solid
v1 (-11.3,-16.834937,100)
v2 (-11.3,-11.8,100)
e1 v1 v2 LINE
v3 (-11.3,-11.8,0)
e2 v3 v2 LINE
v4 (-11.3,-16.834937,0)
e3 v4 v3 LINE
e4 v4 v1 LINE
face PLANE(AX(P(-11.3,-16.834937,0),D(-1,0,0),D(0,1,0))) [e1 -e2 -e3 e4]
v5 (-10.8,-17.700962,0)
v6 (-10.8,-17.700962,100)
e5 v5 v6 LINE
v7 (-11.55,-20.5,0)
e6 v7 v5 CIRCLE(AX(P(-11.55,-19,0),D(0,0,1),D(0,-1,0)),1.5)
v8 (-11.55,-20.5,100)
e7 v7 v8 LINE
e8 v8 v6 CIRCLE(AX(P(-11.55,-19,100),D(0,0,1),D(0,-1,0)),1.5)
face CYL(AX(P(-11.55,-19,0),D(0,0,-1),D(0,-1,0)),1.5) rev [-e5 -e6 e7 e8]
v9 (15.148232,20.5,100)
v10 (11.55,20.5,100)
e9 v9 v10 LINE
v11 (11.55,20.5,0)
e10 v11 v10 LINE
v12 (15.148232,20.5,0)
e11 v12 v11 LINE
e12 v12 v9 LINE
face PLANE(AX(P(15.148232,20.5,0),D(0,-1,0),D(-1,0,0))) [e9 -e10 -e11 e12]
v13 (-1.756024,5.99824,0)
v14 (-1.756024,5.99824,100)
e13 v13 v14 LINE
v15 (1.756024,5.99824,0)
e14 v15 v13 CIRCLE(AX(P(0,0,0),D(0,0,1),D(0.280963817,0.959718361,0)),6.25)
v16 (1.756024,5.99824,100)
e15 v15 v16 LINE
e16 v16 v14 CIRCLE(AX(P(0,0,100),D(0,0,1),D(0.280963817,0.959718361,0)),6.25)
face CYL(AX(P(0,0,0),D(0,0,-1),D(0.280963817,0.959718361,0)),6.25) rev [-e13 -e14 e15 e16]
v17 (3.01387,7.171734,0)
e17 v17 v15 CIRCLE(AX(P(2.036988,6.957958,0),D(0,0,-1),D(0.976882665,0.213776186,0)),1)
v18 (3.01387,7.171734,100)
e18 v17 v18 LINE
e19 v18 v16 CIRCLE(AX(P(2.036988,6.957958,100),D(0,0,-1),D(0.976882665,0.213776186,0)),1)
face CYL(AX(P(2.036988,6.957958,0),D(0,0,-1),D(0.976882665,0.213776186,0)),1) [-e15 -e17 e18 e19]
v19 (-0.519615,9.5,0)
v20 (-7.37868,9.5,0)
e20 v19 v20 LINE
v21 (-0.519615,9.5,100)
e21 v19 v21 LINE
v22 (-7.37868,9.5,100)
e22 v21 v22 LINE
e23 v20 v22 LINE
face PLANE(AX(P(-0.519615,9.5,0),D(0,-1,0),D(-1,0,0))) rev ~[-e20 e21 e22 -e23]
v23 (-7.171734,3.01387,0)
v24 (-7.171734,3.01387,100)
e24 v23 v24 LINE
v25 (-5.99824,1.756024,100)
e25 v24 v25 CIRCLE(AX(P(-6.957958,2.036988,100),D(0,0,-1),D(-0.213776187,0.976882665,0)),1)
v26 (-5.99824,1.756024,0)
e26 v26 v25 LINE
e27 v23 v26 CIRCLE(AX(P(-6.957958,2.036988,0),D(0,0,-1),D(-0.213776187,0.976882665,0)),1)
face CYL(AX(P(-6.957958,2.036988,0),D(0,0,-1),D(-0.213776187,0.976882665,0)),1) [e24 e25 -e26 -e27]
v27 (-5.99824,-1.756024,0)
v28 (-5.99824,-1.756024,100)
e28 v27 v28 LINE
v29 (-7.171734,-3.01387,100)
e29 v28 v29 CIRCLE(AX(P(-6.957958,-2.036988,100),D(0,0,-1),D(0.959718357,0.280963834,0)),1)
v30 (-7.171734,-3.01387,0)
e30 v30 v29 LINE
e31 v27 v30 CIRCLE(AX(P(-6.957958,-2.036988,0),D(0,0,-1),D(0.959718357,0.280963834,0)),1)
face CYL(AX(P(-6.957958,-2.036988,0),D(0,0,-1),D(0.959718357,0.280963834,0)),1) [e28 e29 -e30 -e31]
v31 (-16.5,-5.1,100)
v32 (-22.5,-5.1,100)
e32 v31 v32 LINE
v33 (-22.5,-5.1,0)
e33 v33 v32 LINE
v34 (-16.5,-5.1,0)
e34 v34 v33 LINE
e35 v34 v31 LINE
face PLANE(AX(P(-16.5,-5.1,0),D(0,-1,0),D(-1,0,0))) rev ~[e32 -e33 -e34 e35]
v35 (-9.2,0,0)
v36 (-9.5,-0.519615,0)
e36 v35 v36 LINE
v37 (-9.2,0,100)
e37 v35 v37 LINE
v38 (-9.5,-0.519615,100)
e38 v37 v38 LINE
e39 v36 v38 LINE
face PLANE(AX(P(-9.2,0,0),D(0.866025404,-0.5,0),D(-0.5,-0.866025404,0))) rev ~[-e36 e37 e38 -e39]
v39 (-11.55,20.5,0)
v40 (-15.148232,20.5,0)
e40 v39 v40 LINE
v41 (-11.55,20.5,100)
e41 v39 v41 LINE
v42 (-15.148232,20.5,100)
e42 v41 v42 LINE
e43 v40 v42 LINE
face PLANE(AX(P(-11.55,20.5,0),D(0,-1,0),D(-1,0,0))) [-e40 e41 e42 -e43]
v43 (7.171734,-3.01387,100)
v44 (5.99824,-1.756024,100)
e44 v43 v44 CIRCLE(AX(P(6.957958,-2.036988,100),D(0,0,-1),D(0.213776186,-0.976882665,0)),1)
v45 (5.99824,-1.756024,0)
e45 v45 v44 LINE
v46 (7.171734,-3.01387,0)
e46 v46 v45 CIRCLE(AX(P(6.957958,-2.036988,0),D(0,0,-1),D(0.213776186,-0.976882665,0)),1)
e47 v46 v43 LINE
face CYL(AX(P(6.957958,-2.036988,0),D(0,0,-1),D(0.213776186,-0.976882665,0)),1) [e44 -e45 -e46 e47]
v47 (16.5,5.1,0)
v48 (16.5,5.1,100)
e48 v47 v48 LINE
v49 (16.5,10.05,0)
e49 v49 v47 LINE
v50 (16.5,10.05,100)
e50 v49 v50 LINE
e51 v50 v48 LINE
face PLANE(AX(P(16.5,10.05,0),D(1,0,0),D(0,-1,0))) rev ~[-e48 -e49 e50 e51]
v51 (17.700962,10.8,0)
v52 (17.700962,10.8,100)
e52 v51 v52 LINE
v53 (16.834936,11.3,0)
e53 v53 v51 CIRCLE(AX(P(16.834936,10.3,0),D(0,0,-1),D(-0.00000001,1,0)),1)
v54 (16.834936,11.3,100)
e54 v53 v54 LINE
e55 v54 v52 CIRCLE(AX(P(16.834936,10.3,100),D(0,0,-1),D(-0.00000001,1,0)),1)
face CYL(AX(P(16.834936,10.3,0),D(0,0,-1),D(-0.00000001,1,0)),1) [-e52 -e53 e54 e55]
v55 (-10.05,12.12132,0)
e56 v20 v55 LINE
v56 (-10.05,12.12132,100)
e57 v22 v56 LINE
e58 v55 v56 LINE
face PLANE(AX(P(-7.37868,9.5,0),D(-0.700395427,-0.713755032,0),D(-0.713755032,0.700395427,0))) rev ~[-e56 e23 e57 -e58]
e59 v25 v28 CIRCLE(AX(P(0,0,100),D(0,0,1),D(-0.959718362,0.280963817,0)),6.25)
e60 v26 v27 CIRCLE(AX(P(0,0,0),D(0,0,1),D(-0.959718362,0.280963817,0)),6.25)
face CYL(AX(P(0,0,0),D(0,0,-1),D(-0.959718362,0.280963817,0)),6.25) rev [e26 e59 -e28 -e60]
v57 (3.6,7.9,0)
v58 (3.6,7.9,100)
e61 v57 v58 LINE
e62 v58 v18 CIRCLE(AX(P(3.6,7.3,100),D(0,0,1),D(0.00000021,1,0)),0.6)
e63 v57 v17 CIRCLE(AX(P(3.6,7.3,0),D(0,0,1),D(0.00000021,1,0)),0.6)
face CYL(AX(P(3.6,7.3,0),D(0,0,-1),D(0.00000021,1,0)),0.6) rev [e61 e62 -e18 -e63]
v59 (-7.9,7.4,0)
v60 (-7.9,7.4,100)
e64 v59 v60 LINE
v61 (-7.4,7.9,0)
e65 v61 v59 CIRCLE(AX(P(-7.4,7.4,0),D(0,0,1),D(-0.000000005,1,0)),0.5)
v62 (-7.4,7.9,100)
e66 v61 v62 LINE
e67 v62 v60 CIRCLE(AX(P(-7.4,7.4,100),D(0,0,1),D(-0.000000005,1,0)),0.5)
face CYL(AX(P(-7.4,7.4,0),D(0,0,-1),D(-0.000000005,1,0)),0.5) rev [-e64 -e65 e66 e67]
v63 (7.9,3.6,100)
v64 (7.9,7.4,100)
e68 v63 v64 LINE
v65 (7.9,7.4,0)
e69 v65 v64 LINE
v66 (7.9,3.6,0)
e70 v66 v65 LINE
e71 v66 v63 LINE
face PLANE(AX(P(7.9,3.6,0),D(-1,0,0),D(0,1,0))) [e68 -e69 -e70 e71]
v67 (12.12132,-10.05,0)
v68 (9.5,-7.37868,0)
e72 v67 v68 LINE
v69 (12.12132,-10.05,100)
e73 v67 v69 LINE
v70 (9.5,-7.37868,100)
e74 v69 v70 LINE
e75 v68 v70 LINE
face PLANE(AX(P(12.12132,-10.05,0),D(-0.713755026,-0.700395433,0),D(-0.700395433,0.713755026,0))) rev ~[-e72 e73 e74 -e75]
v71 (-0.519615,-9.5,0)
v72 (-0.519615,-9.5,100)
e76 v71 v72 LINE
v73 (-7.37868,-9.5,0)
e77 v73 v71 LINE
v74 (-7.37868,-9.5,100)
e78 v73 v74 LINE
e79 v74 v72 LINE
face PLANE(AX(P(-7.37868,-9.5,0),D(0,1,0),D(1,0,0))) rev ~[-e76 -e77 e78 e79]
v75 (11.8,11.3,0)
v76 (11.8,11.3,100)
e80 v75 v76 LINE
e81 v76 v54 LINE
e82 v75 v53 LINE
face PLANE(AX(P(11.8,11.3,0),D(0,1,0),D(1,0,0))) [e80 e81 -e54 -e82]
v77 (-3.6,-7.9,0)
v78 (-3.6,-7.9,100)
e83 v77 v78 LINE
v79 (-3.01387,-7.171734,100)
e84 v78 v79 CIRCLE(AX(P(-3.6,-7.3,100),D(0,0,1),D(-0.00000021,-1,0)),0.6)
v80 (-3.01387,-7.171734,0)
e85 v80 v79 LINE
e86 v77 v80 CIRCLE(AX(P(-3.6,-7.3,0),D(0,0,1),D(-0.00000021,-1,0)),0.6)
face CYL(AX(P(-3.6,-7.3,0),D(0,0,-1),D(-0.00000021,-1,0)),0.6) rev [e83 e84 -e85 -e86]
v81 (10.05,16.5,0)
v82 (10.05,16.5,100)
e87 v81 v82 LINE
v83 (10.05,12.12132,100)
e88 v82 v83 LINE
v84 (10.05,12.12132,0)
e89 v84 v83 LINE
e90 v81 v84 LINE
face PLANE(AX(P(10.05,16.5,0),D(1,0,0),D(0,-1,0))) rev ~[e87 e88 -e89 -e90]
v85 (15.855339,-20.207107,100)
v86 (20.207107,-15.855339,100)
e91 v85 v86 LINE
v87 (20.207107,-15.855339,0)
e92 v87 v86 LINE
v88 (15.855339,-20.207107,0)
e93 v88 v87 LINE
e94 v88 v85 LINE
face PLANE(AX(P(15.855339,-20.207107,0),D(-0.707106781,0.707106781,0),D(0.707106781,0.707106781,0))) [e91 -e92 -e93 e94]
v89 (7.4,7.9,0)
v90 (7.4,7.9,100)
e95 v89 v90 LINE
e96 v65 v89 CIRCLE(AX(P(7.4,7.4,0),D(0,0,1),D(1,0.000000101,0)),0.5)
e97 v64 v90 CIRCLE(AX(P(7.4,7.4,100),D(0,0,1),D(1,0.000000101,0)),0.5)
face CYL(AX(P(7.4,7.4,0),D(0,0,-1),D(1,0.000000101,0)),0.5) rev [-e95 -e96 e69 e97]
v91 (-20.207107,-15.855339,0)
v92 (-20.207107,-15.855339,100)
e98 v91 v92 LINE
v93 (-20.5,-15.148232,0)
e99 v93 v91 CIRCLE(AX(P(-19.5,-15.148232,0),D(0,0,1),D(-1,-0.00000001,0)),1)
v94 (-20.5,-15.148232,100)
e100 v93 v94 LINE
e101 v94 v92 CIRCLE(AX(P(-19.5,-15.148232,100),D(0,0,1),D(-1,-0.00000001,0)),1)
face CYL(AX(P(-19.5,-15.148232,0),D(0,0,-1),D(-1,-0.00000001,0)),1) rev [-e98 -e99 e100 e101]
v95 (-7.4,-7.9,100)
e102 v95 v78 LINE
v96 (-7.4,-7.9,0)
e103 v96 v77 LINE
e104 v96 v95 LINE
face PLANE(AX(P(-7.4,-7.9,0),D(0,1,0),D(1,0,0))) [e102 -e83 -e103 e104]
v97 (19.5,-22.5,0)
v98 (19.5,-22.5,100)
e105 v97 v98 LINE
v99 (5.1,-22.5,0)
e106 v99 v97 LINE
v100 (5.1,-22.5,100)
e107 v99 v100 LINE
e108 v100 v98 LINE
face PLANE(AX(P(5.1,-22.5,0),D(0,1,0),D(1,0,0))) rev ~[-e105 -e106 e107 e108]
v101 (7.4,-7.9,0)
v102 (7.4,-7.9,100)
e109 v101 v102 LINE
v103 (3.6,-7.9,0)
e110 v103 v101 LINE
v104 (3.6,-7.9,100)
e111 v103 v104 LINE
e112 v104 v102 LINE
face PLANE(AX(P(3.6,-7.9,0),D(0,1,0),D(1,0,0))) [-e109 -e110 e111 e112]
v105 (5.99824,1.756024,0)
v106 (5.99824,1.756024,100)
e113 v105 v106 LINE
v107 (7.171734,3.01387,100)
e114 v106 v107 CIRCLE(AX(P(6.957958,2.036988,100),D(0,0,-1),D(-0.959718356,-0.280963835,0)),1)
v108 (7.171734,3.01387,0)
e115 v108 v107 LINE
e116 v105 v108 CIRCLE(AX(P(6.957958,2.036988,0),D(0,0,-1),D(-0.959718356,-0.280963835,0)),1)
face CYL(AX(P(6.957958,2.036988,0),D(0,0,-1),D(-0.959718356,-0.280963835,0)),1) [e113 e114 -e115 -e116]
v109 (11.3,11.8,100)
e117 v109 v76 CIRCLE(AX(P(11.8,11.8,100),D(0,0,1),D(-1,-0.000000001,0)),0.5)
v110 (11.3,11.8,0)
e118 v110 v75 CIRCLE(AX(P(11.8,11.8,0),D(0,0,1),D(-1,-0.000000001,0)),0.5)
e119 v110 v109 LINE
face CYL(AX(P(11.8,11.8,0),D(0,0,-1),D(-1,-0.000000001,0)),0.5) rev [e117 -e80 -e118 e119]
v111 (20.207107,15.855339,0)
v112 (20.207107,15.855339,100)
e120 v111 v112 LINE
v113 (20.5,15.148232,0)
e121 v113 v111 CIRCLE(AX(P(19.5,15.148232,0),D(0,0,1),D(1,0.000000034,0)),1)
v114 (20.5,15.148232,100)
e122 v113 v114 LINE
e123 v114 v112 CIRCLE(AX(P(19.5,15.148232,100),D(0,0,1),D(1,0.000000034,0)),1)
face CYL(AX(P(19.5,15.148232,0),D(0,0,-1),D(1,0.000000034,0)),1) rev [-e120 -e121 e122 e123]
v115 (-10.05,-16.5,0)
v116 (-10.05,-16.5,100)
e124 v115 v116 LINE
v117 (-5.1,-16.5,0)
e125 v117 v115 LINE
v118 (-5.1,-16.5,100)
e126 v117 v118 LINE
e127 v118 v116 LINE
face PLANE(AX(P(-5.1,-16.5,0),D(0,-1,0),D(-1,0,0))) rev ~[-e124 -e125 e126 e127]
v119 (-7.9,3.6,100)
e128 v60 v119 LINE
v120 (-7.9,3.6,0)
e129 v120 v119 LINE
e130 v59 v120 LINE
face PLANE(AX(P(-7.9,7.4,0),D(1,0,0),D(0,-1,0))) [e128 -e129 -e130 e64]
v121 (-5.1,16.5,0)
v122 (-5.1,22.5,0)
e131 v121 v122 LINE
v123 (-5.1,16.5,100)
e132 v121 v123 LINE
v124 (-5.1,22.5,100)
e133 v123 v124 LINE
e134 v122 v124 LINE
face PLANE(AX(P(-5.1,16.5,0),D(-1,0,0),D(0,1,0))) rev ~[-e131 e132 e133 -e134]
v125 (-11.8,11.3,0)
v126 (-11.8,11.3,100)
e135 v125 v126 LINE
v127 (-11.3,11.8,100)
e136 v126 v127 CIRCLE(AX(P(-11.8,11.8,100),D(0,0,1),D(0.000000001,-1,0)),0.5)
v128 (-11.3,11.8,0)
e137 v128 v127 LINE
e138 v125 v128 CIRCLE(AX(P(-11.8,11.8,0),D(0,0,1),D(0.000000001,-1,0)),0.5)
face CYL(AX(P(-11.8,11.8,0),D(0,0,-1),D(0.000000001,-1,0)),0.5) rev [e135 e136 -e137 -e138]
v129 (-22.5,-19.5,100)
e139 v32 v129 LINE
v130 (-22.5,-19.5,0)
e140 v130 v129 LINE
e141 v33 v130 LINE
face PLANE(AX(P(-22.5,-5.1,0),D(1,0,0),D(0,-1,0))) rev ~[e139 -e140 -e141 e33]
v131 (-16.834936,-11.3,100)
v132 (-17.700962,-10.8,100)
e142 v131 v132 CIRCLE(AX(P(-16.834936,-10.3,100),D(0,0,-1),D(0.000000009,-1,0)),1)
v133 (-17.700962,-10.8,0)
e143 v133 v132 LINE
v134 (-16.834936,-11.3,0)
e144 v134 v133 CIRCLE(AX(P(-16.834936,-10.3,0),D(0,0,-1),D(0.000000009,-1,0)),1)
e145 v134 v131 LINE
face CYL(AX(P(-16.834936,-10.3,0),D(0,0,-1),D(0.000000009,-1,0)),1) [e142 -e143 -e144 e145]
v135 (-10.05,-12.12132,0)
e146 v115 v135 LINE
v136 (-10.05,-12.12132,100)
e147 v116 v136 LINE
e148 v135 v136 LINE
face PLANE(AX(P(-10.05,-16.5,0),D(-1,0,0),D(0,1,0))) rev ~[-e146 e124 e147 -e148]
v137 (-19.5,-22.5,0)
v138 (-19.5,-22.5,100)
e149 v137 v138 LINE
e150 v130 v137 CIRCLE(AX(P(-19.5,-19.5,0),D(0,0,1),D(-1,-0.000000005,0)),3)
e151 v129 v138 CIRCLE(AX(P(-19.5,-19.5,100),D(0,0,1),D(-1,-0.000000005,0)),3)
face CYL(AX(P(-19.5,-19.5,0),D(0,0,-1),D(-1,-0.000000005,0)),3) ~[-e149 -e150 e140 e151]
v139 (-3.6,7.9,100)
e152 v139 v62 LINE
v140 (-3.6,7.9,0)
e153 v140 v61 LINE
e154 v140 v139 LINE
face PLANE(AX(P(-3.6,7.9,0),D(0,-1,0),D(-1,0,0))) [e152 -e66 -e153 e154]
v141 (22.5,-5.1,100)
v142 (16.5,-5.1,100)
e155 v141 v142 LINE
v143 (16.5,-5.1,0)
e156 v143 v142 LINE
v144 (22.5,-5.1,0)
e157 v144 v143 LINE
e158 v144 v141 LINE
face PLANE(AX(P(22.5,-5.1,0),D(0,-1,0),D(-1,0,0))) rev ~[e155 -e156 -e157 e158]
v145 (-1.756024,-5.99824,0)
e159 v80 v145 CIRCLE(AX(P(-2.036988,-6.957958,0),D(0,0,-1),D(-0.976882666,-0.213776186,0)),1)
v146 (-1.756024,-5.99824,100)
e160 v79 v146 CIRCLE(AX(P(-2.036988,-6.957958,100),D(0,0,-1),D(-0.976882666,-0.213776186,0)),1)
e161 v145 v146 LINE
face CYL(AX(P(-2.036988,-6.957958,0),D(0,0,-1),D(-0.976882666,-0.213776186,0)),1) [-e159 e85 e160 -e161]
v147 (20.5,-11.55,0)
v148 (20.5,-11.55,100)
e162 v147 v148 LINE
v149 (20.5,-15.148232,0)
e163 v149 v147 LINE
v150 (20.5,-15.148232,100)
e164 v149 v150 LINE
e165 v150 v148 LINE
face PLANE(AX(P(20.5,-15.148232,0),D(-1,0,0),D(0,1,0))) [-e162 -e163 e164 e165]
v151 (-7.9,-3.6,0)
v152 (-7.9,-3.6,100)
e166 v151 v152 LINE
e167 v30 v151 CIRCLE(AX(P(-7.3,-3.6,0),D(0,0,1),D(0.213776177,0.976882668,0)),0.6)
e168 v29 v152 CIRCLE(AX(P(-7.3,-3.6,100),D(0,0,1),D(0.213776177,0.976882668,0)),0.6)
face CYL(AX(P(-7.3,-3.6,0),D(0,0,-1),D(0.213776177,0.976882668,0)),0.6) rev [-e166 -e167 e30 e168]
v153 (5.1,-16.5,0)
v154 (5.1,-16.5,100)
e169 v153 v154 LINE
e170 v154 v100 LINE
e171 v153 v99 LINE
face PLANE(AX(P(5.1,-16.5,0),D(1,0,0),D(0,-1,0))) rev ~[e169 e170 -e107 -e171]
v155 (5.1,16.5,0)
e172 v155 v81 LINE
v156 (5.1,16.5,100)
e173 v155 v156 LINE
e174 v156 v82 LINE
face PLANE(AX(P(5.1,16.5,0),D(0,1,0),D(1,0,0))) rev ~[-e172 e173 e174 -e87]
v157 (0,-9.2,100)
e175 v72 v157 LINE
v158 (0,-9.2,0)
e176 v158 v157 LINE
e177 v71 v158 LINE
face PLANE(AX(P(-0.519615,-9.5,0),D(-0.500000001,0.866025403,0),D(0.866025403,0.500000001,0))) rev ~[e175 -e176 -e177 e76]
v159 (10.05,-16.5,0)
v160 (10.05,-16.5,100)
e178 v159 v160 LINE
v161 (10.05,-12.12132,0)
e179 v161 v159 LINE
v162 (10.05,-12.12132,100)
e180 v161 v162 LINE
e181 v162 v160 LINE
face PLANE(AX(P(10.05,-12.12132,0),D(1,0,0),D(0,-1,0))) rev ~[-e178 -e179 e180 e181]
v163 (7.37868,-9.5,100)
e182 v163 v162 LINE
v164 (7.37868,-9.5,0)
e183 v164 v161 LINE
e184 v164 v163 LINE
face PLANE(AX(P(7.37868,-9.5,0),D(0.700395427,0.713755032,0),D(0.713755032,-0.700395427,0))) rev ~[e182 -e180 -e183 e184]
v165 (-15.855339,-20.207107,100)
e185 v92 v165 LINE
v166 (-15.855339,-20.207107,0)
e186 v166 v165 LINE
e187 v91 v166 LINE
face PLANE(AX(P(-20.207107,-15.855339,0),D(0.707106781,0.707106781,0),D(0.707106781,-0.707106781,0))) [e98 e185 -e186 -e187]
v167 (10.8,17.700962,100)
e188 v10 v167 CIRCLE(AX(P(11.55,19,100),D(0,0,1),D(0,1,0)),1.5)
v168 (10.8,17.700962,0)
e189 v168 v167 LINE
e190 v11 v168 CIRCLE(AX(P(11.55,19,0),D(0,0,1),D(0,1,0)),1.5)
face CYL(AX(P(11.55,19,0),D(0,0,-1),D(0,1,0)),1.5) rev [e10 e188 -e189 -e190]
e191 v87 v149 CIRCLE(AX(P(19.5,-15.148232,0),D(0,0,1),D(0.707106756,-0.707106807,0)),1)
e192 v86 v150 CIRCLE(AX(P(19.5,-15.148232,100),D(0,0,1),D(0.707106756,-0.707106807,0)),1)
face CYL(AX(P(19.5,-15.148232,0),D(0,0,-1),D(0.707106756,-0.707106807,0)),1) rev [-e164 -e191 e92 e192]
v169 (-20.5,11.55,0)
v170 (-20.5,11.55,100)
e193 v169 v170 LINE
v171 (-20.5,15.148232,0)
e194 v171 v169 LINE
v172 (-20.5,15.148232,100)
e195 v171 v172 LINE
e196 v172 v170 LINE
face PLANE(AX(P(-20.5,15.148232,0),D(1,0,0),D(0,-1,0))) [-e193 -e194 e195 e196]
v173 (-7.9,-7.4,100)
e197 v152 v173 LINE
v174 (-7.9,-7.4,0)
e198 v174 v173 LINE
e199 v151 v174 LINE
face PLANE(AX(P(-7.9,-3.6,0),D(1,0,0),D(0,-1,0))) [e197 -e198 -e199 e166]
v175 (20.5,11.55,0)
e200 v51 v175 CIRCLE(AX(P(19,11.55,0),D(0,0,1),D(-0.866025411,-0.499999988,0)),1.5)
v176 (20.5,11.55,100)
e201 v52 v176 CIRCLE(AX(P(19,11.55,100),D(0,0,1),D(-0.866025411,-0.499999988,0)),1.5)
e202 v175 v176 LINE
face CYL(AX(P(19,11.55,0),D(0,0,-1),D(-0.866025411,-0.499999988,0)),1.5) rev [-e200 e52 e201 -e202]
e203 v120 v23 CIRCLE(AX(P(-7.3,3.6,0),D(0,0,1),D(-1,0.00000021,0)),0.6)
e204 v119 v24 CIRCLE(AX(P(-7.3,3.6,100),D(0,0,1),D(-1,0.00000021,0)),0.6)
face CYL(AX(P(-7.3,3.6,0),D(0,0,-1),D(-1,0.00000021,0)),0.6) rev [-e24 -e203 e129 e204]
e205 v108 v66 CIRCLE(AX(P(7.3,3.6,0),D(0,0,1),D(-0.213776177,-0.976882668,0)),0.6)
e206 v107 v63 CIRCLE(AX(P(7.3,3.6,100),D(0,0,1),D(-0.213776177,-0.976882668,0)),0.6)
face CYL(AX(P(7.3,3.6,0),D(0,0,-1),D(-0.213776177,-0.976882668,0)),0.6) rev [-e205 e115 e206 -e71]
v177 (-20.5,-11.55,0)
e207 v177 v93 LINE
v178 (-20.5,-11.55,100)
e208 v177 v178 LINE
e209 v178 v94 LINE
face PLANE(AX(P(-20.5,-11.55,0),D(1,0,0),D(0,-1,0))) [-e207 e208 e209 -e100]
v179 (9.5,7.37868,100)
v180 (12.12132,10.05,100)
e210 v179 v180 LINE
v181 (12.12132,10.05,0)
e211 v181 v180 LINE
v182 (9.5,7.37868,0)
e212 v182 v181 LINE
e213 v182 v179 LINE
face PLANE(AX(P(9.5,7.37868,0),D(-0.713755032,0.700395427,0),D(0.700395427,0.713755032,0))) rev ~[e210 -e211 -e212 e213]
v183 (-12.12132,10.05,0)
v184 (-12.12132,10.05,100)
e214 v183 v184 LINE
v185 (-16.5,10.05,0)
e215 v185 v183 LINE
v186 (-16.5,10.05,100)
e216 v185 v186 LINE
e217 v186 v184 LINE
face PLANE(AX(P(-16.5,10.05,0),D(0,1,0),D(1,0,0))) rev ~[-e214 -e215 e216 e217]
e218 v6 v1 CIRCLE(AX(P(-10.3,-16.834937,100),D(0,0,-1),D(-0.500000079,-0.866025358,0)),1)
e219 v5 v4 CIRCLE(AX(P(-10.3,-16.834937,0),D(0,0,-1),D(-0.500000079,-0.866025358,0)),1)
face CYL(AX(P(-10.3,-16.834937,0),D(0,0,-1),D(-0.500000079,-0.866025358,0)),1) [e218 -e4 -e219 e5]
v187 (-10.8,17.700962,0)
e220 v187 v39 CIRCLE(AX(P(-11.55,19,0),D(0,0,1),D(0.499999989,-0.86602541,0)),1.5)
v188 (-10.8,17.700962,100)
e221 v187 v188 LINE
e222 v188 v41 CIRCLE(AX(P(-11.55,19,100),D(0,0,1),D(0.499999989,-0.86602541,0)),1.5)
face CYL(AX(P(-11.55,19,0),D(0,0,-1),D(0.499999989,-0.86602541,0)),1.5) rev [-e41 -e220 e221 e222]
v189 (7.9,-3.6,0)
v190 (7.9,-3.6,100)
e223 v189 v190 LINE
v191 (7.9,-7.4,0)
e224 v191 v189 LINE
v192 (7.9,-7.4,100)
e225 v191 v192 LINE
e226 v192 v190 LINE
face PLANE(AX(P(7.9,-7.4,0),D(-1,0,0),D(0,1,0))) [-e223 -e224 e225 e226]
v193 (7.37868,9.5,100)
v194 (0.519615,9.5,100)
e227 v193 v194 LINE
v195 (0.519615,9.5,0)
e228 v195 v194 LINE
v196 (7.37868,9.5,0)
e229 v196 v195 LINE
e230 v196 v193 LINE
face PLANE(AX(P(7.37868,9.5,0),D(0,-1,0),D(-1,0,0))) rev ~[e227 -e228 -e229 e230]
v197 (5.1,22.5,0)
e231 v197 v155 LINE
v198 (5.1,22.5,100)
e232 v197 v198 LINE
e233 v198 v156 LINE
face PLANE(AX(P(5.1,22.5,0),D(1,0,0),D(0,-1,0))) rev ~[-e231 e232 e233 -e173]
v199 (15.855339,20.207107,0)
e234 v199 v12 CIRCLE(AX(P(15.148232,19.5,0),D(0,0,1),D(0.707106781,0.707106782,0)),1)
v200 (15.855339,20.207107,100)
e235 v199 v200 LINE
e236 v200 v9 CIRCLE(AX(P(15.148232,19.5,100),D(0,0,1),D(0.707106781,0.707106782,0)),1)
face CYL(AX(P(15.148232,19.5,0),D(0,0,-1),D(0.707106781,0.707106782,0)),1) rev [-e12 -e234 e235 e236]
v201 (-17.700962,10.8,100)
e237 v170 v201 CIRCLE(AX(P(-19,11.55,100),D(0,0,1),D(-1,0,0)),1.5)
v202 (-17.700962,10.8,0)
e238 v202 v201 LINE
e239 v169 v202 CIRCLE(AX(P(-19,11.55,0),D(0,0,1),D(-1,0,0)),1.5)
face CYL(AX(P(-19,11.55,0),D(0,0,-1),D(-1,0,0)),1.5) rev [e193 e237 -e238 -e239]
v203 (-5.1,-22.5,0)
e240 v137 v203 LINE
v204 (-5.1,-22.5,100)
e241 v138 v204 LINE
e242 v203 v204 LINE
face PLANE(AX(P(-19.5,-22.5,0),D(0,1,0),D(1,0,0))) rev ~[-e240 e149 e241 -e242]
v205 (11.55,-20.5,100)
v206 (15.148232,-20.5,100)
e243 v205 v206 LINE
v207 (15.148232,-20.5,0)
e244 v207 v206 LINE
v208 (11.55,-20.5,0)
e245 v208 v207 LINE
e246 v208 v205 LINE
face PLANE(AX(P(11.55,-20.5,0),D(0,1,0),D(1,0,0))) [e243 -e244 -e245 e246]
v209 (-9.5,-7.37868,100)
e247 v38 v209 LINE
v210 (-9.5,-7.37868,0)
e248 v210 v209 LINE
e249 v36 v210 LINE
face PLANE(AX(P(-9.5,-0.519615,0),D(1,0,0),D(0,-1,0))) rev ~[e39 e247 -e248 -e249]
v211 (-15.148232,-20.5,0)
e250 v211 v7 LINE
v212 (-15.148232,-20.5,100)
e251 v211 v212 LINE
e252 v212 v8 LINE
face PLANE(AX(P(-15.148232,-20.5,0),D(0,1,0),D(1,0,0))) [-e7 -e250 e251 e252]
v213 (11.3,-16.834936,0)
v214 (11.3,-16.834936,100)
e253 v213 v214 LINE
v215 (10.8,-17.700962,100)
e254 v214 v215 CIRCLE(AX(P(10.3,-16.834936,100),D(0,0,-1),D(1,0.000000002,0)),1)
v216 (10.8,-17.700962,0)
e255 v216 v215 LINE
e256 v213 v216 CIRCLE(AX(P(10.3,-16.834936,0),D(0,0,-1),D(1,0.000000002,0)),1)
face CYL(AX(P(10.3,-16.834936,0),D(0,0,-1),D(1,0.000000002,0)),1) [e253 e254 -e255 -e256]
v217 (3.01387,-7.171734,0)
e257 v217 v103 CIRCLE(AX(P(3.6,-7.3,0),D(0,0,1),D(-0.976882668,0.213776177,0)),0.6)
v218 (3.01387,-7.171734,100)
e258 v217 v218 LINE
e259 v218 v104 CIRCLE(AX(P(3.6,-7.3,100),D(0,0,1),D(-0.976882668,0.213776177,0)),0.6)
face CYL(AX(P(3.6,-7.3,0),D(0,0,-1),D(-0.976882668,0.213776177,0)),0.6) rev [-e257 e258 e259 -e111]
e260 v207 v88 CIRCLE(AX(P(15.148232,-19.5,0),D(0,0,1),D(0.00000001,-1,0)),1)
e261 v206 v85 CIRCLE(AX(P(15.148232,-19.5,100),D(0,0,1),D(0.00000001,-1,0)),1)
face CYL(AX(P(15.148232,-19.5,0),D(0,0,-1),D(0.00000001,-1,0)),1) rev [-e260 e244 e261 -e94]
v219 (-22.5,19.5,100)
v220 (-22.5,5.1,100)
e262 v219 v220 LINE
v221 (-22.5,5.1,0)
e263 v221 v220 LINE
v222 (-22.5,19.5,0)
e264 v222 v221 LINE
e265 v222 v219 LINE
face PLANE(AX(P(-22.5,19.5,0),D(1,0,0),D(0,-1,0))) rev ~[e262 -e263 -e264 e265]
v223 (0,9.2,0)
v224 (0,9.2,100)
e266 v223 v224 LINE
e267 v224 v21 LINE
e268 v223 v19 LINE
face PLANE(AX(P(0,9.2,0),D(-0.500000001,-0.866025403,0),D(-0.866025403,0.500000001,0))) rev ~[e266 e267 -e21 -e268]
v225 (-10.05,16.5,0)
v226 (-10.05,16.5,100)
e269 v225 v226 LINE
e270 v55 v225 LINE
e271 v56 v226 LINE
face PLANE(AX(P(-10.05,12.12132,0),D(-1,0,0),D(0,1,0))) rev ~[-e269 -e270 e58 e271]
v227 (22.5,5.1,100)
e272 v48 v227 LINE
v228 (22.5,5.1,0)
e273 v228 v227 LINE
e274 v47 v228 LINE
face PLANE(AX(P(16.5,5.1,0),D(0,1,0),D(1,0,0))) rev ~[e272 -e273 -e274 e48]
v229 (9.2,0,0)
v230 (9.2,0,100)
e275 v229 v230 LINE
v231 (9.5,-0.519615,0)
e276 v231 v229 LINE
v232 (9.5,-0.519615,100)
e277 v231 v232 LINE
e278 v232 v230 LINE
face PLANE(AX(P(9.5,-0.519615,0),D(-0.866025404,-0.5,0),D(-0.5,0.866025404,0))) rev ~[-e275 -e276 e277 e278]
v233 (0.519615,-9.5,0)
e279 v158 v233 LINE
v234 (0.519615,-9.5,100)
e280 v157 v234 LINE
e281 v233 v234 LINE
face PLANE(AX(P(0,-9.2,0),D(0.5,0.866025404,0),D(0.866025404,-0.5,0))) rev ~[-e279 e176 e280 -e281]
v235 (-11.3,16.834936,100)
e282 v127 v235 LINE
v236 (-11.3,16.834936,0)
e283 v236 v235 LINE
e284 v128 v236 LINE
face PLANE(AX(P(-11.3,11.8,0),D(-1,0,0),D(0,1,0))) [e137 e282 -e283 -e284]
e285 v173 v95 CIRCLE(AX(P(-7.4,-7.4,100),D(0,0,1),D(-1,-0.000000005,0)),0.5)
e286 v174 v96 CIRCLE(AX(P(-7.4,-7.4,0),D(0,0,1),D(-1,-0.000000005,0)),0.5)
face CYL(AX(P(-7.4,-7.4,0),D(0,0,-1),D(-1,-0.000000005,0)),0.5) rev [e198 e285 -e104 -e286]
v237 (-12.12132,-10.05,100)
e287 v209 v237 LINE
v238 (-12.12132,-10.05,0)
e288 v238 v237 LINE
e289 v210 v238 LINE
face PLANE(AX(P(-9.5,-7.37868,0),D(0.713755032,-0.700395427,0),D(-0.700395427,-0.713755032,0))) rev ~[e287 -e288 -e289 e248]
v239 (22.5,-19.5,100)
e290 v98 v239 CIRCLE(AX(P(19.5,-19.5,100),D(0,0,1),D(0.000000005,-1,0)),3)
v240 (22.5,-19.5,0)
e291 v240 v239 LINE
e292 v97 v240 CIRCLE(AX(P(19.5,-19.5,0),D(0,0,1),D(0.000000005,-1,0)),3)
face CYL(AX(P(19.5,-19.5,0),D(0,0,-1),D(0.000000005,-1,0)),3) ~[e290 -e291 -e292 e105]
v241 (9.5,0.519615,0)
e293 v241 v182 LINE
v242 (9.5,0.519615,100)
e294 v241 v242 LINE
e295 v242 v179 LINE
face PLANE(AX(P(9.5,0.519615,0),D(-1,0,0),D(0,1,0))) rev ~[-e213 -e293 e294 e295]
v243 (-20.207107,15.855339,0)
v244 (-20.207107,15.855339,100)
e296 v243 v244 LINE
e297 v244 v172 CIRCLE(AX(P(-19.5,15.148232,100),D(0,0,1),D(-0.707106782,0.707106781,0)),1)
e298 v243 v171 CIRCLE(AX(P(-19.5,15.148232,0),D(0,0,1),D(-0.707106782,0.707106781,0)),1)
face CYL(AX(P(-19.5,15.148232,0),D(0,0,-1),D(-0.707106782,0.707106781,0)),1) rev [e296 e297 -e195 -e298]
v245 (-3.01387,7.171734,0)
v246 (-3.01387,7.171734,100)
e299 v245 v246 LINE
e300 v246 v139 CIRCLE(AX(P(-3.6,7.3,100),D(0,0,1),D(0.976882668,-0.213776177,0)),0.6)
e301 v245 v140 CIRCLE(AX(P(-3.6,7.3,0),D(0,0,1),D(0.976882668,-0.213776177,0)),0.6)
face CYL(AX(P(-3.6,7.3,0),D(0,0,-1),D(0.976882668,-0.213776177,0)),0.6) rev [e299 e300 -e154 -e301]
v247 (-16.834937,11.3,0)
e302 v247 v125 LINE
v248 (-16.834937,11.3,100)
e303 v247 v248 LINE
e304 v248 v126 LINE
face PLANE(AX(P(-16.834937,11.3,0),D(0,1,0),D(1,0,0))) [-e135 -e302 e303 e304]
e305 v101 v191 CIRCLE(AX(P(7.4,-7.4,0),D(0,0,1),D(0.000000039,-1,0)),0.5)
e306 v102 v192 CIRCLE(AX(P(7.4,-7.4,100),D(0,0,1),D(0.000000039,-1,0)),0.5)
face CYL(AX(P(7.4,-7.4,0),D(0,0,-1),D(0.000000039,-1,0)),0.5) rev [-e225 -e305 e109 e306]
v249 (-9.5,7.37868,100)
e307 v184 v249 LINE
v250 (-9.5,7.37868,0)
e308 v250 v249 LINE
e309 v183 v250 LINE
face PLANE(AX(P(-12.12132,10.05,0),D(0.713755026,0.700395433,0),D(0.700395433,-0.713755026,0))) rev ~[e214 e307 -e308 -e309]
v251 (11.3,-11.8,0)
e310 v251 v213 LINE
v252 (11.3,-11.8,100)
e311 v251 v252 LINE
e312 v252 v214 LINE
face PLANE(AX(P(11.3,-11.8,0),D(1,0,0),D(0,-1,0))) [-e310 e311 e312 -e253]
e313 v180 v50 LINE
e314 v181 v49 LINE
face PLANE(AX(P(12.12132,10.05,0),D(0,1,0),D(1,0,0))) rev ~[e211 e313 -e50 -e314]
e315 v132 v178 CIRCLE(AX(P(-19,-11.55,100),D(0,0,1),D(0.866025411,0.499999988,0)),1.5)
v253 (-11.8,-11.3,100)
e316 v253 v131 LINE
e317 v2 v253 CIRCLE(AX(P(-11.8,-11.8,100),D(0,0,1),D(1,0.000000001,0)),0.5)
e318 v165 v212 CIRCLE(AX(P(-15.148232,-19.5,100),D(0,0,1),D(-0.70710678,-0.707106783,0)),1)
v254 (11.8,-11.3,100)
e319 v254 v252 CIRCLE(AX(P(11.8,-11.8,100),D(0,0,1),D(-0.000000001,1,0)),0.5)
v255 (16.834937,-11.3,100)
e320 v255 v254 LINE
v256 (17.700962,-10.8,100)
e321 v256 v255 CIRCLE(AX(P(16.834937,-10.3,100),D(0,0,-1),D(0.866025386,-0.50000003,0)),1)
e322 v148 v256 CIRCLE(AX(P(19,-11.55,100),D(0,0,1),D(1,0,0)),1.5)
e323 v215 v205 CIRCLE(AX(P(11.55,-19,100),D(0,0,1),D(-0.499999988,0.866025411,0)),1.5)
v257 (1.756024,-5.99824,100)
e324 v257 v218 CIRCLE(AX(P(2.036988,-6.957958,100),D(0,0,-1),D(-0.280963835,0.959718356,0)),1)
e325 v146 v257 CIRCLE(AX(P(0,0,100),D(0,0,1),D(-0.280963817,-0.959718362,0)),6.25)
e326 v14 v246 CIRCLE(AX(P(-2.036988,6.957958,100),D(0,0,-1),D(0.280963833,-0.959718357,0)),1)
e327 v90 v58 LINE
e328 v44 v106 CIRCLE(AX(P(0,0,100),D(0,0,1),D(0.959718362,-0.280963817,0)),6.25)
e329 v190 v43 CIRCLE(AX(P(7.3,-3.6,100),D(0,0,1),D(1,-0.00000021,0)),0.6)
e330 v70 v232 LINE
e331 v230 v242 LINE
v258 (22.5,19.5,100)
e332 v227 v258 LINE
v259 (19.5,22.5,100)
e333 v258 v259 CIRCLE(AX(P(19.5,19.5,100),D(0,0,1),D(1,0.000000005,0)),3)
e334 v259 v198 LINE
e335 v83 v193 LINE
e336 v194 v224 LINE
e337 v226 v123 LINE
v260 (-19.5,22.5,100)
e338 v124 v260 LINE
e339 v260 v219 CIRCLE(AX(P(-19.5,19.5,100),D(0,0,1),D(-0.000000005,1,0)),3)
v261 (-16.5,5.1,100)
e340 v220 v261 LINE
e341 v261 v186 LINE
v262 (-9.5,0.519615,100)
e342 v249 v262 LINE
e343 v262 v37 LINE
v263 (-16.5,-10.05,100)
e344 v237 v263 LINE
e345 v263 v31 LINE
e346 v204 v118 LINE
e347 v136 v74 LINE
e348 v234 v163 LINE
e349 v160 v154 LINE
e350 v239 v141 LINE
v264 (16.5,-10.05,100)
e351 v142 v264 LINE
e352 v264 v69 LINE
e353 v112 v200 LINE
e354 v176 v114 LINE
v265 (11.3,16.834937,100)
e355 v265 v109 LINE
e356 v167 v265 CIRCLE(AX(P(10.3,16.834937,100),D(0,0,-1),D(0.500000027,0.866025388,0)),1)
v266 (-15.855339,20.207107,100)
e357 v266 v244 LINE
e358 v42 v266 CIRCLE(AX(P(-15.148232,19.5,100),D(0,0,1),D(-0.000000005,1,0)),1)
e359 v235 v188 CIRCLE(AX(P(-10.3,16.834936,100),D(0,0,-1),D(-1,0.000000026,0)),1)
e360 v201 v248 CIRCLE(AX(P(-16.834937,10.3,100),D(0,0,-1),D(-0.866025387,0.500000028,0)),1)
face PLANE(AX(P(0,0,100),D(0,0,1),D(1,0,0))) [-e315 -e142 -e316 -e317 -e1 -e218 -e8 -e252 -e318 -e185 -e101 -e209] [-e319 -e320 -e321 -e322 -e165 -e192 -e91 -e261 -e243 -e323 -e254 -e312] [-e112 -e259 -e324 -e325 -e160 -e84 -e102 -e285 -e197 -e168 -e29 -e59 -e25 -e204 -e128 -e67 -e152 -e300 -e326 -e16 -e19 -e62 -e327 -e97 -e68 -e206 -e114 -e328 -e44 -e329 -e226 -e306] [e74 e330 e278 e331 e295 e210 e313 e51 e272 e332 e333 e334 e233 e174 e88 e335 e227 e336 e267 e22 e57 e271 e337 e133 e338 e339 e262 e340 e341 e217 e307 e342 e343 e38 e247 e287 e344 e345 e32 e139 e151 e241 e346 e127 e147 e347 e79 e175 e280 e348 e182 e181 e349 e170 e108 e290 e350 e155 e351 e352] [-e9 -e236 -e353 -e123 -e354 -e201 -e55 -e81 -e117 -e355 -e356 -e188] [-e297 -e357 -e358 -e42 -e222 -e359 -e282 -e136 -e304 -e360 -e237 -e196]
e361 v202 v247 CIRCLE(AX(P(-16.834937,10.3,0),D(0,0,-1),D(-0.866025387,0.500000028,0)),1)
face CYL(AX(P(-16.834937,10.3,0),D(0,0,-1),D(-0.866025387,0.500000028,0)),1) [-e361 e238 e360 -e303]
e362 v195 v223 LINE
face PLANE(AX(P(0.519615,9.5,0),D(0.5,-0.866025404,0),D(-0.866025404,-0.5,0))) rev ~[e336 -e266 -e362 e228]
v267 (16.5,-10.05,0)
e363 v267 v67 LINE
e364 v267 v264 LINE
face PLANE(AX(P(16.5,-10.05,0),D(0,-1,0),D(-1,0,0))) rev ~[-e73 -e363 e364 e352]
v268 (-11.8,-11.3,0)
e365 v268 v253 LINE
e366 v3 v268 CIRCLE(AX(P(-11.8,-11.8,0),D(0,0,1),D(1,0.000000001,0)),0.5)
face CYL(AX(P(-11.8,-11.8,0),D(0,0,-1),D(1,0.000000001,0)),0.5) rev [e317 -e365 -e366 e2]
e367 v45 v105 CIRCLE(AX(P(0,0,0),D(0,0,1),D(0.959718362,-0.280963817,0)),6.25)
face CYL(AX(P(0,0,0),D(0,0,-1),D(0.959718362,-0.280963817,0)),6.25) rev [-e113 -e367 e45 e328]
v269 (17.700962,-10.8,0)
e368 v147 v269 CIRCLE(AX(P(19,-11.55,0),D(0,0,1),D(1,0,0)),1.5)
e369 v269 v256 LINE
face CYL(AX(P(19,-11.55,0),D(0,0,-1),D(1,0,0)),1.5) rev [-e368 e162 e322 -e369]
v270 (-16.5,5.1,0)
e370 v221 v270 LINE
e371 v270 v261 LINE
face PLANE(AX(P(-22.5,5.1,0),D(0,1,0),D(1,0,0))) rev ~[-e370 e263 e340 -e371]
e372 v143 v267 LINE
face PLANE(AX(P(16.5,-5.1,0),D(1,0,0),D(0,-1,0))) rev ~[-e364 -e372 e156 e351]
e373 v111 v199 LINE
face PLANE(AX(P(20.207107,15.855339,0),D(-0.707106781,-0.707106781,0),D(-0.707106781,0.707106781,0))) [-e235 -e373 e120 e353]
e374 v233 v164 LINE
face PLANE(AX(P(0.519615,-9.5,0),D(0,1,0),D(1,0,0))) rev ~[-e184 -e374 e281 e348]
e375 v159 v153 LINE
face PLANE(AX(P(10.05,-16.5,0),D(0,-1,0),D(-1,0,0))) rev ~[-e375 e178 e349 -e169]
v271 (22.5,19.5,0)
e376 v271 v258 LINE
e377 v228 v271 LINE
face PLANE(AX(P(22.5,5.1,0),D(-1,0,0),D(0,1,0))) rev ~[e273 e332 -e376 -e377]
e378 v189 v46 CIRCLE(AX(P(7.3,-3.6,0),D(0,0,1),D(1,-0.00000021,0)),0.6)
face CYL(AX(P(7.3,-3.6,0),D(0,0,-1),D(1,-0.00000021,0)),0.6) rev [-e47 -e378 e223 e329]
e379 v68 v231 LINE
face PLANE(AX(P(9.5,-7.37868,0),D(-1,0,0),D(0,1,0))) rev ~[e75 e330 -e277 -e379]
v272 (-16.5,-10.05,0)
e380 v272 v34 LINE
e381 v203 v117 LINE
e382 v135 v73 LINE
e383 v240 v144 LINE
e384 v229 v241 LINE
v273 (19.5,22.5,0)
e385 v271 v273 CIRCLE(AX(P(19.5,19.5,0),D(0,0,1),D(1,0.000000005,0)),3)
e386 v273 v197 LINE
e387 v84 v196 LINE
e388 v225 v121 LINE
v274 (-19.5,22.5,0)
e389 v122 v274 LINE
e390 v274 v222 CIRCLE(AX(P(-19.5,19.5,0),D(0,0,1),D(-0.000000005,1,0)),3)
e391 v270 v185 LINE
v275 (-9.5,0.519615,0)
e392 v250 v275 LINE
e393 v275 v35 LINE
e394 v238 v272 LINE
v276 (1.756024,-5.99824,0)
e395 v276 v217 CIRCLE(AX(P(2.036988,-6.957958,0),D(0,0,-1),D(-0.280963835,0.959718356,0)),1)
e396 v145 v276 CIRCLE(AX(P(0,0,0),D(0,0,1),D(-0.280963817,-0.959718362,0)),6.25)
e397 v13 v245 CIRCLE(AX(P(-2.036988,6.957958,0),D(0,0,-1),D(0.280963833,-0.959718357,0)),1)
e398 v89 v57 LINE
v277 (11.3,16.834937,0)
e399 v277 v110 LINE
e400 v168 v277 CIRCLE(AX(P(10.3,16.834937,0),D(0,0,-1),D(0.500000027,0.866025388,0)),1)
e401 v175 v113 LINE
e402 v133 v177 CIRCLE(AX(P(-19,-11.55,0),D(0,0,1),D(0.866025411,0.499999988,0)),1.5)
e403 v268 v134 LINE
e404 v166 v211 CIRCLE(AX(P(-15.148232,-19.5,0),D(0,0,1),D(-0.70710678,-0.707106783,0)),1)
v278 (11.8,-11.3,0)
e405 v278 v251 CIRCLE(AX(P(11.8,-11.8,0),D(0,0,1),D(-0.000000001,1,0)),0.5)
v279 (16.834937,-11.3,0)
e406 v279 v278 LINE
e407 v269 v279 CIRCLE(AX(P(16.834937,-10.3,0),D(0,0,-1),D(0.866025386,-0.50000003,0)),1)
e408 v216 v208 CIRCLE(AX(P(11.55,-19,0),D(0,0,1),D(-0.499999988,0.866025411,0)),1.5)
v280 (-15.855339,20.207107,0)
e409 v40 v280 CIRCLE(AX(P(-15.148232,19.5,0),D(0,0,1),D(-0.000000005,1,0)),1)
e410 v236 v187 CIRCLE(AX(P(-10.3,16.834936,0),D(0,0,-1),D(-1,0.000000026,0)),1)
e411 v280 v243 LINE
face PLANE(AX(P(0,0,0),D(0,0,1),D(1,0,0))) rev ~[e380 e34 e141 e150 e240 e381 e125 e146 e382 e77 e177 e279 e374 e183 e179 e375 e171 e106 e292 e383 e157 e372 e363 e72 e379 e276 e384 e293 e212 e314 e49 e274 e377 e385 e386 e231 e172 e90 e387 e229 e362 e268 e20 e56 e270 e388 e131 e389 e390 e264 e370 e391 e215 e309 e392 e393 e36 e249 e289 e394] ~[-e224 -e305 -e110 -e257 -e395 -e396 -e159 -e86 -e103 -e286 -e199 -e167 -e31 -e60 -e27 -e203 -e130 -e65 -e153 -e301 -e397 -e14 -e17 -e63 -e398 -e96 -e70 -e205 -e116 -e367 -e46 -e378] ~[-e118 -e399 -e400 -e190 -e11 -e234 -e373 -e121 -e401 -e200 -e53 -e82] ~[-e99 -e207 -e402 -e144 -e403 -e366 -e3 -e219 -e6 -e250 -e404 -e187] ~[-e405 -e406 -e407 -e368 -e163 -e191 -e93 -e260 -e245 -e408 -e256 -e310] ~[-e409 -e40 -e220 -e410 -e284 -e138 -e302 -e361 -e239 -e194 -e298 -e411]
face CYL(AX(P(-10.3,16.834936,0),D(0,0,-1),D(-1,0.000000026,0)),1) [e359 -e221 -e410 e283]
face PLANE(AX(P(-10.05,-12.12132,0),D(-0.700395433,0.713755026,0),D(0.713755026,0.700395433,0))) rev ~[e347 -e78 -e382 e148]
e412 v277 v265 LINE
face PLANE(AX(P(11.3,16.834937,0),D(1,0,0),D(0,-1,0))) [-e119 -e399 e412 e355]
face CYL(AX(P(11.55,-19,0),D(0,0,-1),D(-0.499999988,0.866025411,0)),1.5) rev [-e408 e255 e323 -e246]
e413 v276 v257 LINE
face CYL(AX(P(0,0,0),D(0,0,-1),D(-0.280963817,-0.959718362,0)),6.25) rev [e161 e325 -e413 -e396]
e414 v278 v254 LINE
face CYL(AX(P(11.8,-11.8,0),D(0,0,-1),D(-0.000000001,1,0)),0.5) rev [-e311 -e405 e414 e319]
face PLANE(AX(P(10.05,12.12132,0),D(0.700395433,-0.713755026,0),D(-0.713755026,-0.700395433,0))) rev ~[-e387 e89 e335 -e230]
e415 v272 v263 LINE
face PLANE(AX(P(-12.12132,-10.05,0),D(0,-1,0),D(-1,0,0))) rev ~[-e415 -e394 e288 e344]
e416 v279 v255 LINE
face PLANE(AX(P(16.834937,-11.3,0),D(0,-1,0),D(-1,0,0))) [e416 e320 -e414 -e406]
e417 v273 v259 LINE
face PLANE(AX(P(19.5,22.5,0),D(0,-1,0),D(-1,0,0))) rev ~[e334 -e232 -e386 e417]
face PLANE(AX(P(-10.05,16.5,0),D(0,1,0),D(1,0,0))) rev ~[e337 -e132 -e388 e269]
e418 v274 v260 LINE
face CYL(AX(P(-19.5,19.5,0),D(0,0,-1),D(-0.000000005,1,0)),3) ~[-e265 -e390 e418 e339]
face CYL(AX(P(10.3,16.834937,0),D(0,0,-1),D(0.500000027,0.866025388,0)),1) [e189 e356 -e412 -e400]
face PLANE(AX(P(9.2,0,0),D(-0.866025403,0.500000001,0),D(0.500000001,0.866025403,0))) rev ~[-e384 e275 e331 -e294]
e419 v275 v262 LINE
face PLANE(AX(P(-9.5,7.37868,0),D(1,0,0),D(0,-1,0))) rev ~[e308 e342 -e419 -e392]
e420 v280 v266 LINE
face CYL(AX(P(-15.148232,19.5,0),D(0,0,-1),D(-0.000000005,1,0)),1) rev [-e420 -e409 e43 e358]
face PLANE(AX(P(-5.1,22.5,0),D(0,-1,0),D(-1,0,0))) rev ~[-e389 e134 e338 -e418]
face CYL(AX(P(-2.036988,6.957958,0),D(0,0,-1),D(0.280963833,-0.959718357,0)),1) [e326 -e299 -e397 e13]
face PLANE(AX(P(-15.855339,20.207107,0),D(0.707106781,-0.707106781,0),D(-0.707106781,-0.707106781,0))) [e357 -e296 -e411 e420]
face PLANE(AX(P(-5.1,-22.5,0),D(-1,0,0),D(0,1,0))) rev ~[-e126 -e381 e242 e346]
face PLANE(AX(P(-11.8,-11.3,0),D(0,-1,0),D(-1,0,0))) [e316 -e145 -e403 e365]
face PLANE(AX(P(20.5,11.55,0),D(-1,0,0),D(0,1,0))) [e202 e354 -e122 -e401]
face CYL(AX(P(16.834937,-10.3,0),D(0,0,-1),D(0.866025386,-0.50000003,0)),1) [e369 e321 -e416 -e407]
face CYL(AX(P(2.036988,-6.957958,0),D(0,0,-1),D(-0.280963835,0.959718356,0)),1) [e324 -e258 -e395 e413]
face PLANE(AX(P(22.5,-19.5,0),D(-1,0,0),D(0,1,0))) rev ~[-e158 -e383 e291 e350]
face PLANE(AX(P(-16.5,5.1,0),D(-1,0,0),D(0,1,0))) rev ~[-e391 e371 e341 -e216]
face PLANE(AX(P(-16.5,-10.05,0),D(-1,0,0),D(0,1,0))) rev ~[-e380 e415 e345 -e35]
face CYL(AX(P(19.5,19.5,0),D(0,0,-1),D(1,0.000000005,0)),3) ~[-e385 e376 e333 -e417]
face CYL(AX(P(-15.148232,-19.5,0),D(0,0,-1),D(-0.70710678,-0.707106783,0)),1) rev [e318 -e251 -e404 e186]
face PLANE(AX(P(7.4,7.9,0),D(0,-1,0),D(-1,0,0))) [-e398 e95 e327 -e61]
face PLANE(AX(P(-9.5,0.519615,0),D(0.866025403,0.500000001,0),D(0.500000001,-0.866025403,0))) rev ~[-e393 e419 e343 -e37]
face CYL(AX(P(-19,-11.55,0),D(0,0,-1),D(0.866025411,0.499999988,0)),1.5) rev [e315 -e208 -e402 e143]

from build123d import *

# Parameters (mm, degrees)
BOSS_EXTRU_1_DEPTH = 100


with BuildPart() as part:
    # Esquisse1 → Boss.-Extru.1 (new body)
    with BuildSketch(Plane.XY):
        with BuildLine():
            Line((22.500000043, 5.099999967), (22.500000043, 19.499999968))
            ThreePointArc((22.500000043, 19.499999968), (21.621320369, 21.621320326), (19.500000002, 22.499999981))
            Line((19.500000002, 22.499999981), (5.100000002, 22.499999981))
            Line((5.100000002, 22.499999981), (5.100000002, 16.499999976))
            Line((5.100000002, 16.499999976), (10.050000002, 16.499999976))
            Line((10.050000002, 16.499999976), (10.050000002, 12.121320348))
            Line((10.050000002, 12.121320348), (7.378679628, 9.499999975))
            Line((7.378679628, 9.499999975), (0.51961526, 9.499999975))
            Line((0.51961526, 9.499999975), (1.4e-08, 9.199999973))
            Line((1.4e-08, 9.199999973), (-0.519615231, 9.499999975))
            Line((-0.519615231, 9.499999975), (-7.3786796, 9.499999975))
            Line((-7.3786796, 9.499999975), (-10.049999998, 12.121320324))
            Line((-10.049999998, 12.121320324), (-10.049999998, 16.499999952))
            Line((-10.049999998, 16.499999952), (-5.099999998, 16.499999952))
            Line((-5.099999998, 16.499999952), (-5.099999998, 22.499999958))
            Line((-5.099999998, 22.499999958), (-19.499999998, 22.499999958))
            ThreePointArc((-19.499999998, 22.499999958), (-21.621320357, 21.621320284), (-22.500000012, 19.499999917))
            Line((-22.500000012, 19.499999917), (-22.500000012, 5.099999917))
            Line((-22.500000012, 5.099999917), (-16.500000006, 5.099999917))
            Line((-16.500000006, 5.099999917), (-16.500000006, 10.049999917))
            Line((-16.500000006, 10.049999917), (-12.121320378, 10.049999917))
            Line((-12.121320378, 10.049999917), (-9.500000005, 7.378679543))
            Line((-9.500000005, 7.378679543), (-9.500000005, 0.519615174))
            Line((-9.500000005, 0.519615174), (-9.200000003, -7.1e-08))
            Line((-9.200000003, -7.1e-08), (-9.500000005, -0.519615317))
            Line((-9.500000005, -0.519615317), (-9.500000005, -7.378679686))
            Line((-9.500000005, -7.378679686), (-12.121320354, -10.050000083))
            Line((-12.121320354, -10.050000083), (-16.499999982, -10.050000083))
            Line((-16.499999982, -10.050000083), (-16.499999982, -5.100000083))
            Line((-16.499999982, -5.100000083), (-22.499999988, -5.100000083))
            Line((-22.499999988, -5.100000083), (-22.499999988, -19.500000083))
            ThreePointArc((-22.499999988, -19.500000083), (-21.621320314, -21.621320442), (-19.499999947, -22.500000097))
            Line((-19.499999947, -22.500000097), (-5.099999947, -22.500000097))
            Line((-5.099999947, -22.500000097), (-5.099999947, -16.500000091))
            Line((-5.099999947, -16.500000091), (-10.049999947, -16.500000091))
            Line((-10.049999947, -16.500000091), (-10.049999947, -12.121320464))
            Line((-10.049999947, -12.121320464), (-7.378679573, -9.500000091))
            Line((-7.378679573, -9.500000091), (-0.519615204, -9.500000091))
            Line((-0.519615204, -9.500000091), (4.1e-08, -9.200000089))
            Line((4.1e-08, -9.200000089), (0.519615287, -9.500000091))
            Line((0.519615287, -9.500000091), (7.378679655, -9.500000091))
            Line((7.378679655, -9.500000091), (10.050000053, -12.12132044))
            Line((10.050000053, -12.12132044), (10.050000053, -16.500000068))
            Line((10.050000053, -16.500000068), (5.100000053, -16.500000068))
            Line((5.100000053, -16.500000068), (5.100000053, -22.500000073))
            Line((5.100000053, -22.500000073), (19.500000053, -22.500000073))
            ThreePointArc((19.500000053, -22.500000073), (21.621320412, -21.621320399), (22.500000067, -19.500000033))
            Line((22.500000067, -19.500000033), (22.500000067, -5.100000033))
            Line((22.500000067, -5.100000033), (16.500000061, -5.100000033))
            Line((16.500000061, -5.100000033), (16.500000061, -10.050000033))
            Line((16.500000061, -10.050000033), (12.121320433, -10.050000033))
            Line((12.121320433, -10.050000033), (9.50000006, -7.378679659))
            Line((9.50000006, -7.378679659), (9.50000006, -0.51961529))
            Line((9.50000006, -0.51961529), (9.200000058, -4.4e-08))
            Line((9.200000058, -4.4e-08), (9.50000006, 0.519615201))
            Line((9.50000006, 0.519615201), (9.50000006, 7.37867957))
            Line((9.50000006, 7.37867957), (12.12132041, 10.049999967))
            Line((12.12132041, 10.049999967), (16.500000038, 10.049999967))
            Line((16.500000038, 10.049999967), (16.500000038, 5.099999967))
            Line((16.500000038, 5.099999967), (22.500000043, 5.099999967))
        make_face()
        with BuildLine():
            Line((15.855339158, -20.207106708), (20.207106825, -15.855339041))
            ThreePointArc((20.207106825, -15.855339041), (20.4238796, -15.530915671), (20.500000069, -15.148232209))
            Line((20.500000069, -15.148232209), (20.500000069, -11.54999993))
            ThreePointArc((20.500000069, -11.54999993), (19.388228621, -10.101111187), (17.700961947, -10.79999996))
            ThreePointArc((17.700961947, -10.79999996), (17.334936545, -11.166025343), (16.83493656, -11.299999931))
            Line((16.83493656, -11.299999931), (11.800000069, -11.299999931))
            ThreePointArc((11.800000069, -11.299999931), (11.446446677, -11.446446542), (11.300000069, -11.799999935))
            Line((11.300000069, -11.799999935), (11.300000069, -16.834936434))
            ThreePointArc((11.300000069, -16.834936434), (11.166025484, -17.334936416), (10.800000106, -17.700961817))
            ThreePointArc((10.800000106, -17.700961817), (10.101111348, -19.388228497), (11.550000101, -20.499999933))
            Line((11.550000101, -20.499999933), (15.14823238, -20.499999933))
            ThreePointArc((15.14823238, -20.499999933), (15.530915811, -20.423879462), (15.855339158, -20.207106708))
        make_face(mode=Mode.SUBTRACT)
        with BuildLine():
            Line((-20.499999933, -11.550000112), (-20.499999933, -15.148232391))
            ThreePointArc((-20.499999933, -15.148232391), (-20.423879462, -15.530915822), (-20.207106708, -15.855339169))
            Line((-20.207106708, -15.855339169), (-15.855339041, -20.207106836))
            ThreePointArc((-15.855339041, -20.207106836), (-15.530915692, -20.423879587), (-15.14823226, -20.500000055))
            Line((-15.14823226, -20.500000055), (-11.549999982, -20.500000055))
            ThreePointArc((-11.549999982, -20.500000055), (-10.101111238, -19.388228606), (-10.800000011, -17.700961932))
            ThreePointArc((-10.800000011, -17.700961932), (-11.166025359, -17.334936533), (-11.299999931, -16.834936571))
            Line((-11.299999931, -16.834936571), (-11.299999931, -11.80000008))
            ThreePointArc((-11.299999931, -11.80000008), (-11.446446542, -11.446446688), (-11.799999935, -11.30000008))
            Line((-11.799999935, -11.30000008), (-16.834936426, -11.30000008))
            ThreePointArc((-16.834936426, -11.30000008), (-17.334936412, -11.166025497), (-17.700961817, -10.800000117))
            ThreePointArc((-17.700961817, -10.800000117), (-19.388228497, -10.101111359), (-20.499999933, -11.550000112))
        make_face(mode=Mode.SUBTRACT)
        with BuildLine():
            Line((-15.85533915, 20.20710669), (-20.207106817, 15.855339024))
            ThreePointArc((-20.207106817, 15.855339024), (-20.423879568, 15.530915675), (-20.500000035, 15.148232242))
            Line((-20.500000035, 15.148232242), (-20.500000035, 11.549999964))
            ThreePointArc((-20.500000035, 11.549999964), (-19.388228587, 10.101111221), (-17.700961913, 10.799999993))
            ThreePointArc((-17.700961913, 10.799999993), (-17.334936511, 11.166025377), (-16.834936526, 11.299999965))
            Line((-16.834936526, 11.299999965), (-11.800000035, 11.299999965))
            ThreePointArc((-11.800000035, 11.299999965), (-11.446446643, 11.446446576), (-11.300000035, 11.799999969))
            Line((-11.300000035, 11.799999969), (-11.300000035, 16.834936459))
            ThreePointArc((-11.300000035, 16.834936459), (-11.16602545, 17.334936413), (-10.800000097, 17.7009618))
            ThreePointArc((-10.800000097, 17.7009618), (-10.10111134, 19.38822848), (-11.550000093, 20.499999915))
            Line((-11.550000093, 20.499999915), (-15.148232371, 20.499999915))
            ThreePointArc((-15.148232371, 20.499999915), (-15.530915803, 20.423879445), (-15.85533915, 20.20710669))
        make_face(mode=Mode.SUBTRACT)
        with BuildLine():
            Line((-3.600000106, 7.899999961), (-7.399999998, 7.899999961))
            ThreePointArc((-7.399999998, 7.899999961), (-7.753553388, 7.75355335), (-7.899999996, 7.399999959))
            Line((-7.899999996, 7.399999959), (-7.899999996, 3.600000067))
            ThreePointArc((-7.899999996, 3.600000067), (-7.676191867, 3.132581845), (-7.171734284, 3.013870341))
            ThreePointArc((-7.171734284, 3.013870341), (-6.226759165, 2.719151967), (-5.99823974, 1.75602385))
            ThreePointArc((-5.99823974, 1.75602385), (-6.249999979, -2.2e-08), (-5.998239727, -1.756023893))
            ThreePointArc((-5.998239727, -1.756023893), (-6.226759144, -2.719152011), (-7.171734261, -3.013870394))
            ThreePointArc((-7.171734261, -3.013870394), (-7.676191842, -3.132581902), (-7.899999967, -3.600000126))
            Line((-7.899999967, -3.600000126), (-7.899999967, -7.400000018))
            ThreePointArc((-7.899999967, -7.400000018), (-7.753553356, -7.753553408), (-7.399999965, -7.900000016))
            Line((-7.399999965, -7.900000016), (-3.600000073, -7.900000016))
            ThreePointArc((-3.600000073, -7.900000016), (-3.132581851, -7.676191887), (-3.013870347, -7.171734304))
            ThreePointArc((-3.013870347, -7.171734304), (-2.719151972, -6.226759185), (-1.756023856, -5.99823976))
            ThreePointArc((-1.756023856, -5.99823976), (2.8e-08, -6.25), (1.756023909, -5.998239744))
            ThreePointArc((1.756023909, -5.998239744), (2.719152028, -6.226759161), (3.013870411, -7.171734278))
            ThreePointArc((3.013870411, -7.171734278), (3.132581919, -7.676191859), (3.600000143, -7.899999984))
            Line((3.600000143, -7.899999984), (7.400000035, -7.899999984))
            ThreePointArc((7.400000035, -7.899999984), (7.75355342, -7.753553361), (7.900000016, -7.399999965))
            Line((7.900000016, -7.399999965), (7.900000016, -3.600000073))
            ThreePointArc((7.900000016, -3.600000073), (7.676191887, -3.132581851), (7.171734305, -3.013870347))
            ThreePointArc((7.171734305, -3.013870347), (6.226759185, -2.719151972), (5.99823976, -1.756023856))
            ThreePointArc((5.99823976, -1.756023856), (6.25, 2.8e-08), (5.998239744, 1.756023909))
            ThreePointArc((5.998239744, 1.756023909), (6.226759161, 2.719152028), (7.171734278, 3.013870411))
            ThreePointArc((7.171734278, 3.013870411), (7.676191859, 3.132581919), (7.899999984, 3.600000143))
            Line((7.899999984, 3.600000143), (7.899999984, 7.400000035))
            ThreePointArc((7.899999984, 7.400000035), (7.753553347, 7.753553403), (7.399999956, 7.899999985))
            Line((7.399999956, 7.899999985), (3.600000064, 7.899999985))
            ThreePointArc((3.600000064, 7.899999985), (3.132581842, 7.676191856), (3.013870338, 7.171734274))
            ThreePointArc((3.013870338, 7.171734274), (2.719151963, 6.226759154), (1.756023847, 5.998239729))
            ThreePointArc((1.756023847, 5.998239729), (-1.3e-08, 6.249999968), (-1.756023872, 5.998239721))
            ThreePointArc((-1.756023872, 5.998239721), (-2.719151991, 6.226759139), (-3.013870374, 7.171734255))
            ThreePointArc((-3.013870374, 7.171734255), (-3.132581882, 7.676191836), (-3.600000106, 7.899999961))
        make_face(mode=Mode.SUBTRACT)
        with BuildLine():
            Line((11.299999964, 16.83493656), (11.299999964, 11.800000069))
            ThreePointArc((11.299999964, 11.800000069), (11.446446575, 11.446446677), (11.799999969, 11.300000069))
            Line((11.799999969, 11.300000069), (16.834936459, 11.300000069))
            ThreePointArc((16.834936459, 11.300000069), (17.334936446, 11.166025486), (17.700961851, 10.800000106))
            ThreePointArc((17.700961851, 10.800000106), (19.388228531, 10.101111348), (20.499999967, 11.550000101))
            Line((20.499999967, 11.550000101), (20.499999967, 15.14823238))
            ThreePointArc((20.499999967, 15.14823238), (20.423879472, 15.530915844), (20.207106671, 15.855339203))
            Line((20.207106671, 15.855339203), (15.855339024, 20.207106851))
            ThreePointArc((15.855339024, 20.207106851), (15.530915675, 20.423879602), (15.148232242, 20.500000069))
            Line((15.148232242, 20.500000069), (11.549999964, 20.500000069))
            ThreePointArc((11.549999964, 20.500000069), (10.10111122, 19.388228621), (10.799999993, 17.700961947))
            ThreePointArc((10.799999993, 17.700961947), (11.166025377, 17.334936545), (11.299999964, 16.83493656))
        make_face(mode=Mode.SUBTRACT)
    extrude(amount=BOSS_EXTRU_1_DEPTH)


solid = part.part
